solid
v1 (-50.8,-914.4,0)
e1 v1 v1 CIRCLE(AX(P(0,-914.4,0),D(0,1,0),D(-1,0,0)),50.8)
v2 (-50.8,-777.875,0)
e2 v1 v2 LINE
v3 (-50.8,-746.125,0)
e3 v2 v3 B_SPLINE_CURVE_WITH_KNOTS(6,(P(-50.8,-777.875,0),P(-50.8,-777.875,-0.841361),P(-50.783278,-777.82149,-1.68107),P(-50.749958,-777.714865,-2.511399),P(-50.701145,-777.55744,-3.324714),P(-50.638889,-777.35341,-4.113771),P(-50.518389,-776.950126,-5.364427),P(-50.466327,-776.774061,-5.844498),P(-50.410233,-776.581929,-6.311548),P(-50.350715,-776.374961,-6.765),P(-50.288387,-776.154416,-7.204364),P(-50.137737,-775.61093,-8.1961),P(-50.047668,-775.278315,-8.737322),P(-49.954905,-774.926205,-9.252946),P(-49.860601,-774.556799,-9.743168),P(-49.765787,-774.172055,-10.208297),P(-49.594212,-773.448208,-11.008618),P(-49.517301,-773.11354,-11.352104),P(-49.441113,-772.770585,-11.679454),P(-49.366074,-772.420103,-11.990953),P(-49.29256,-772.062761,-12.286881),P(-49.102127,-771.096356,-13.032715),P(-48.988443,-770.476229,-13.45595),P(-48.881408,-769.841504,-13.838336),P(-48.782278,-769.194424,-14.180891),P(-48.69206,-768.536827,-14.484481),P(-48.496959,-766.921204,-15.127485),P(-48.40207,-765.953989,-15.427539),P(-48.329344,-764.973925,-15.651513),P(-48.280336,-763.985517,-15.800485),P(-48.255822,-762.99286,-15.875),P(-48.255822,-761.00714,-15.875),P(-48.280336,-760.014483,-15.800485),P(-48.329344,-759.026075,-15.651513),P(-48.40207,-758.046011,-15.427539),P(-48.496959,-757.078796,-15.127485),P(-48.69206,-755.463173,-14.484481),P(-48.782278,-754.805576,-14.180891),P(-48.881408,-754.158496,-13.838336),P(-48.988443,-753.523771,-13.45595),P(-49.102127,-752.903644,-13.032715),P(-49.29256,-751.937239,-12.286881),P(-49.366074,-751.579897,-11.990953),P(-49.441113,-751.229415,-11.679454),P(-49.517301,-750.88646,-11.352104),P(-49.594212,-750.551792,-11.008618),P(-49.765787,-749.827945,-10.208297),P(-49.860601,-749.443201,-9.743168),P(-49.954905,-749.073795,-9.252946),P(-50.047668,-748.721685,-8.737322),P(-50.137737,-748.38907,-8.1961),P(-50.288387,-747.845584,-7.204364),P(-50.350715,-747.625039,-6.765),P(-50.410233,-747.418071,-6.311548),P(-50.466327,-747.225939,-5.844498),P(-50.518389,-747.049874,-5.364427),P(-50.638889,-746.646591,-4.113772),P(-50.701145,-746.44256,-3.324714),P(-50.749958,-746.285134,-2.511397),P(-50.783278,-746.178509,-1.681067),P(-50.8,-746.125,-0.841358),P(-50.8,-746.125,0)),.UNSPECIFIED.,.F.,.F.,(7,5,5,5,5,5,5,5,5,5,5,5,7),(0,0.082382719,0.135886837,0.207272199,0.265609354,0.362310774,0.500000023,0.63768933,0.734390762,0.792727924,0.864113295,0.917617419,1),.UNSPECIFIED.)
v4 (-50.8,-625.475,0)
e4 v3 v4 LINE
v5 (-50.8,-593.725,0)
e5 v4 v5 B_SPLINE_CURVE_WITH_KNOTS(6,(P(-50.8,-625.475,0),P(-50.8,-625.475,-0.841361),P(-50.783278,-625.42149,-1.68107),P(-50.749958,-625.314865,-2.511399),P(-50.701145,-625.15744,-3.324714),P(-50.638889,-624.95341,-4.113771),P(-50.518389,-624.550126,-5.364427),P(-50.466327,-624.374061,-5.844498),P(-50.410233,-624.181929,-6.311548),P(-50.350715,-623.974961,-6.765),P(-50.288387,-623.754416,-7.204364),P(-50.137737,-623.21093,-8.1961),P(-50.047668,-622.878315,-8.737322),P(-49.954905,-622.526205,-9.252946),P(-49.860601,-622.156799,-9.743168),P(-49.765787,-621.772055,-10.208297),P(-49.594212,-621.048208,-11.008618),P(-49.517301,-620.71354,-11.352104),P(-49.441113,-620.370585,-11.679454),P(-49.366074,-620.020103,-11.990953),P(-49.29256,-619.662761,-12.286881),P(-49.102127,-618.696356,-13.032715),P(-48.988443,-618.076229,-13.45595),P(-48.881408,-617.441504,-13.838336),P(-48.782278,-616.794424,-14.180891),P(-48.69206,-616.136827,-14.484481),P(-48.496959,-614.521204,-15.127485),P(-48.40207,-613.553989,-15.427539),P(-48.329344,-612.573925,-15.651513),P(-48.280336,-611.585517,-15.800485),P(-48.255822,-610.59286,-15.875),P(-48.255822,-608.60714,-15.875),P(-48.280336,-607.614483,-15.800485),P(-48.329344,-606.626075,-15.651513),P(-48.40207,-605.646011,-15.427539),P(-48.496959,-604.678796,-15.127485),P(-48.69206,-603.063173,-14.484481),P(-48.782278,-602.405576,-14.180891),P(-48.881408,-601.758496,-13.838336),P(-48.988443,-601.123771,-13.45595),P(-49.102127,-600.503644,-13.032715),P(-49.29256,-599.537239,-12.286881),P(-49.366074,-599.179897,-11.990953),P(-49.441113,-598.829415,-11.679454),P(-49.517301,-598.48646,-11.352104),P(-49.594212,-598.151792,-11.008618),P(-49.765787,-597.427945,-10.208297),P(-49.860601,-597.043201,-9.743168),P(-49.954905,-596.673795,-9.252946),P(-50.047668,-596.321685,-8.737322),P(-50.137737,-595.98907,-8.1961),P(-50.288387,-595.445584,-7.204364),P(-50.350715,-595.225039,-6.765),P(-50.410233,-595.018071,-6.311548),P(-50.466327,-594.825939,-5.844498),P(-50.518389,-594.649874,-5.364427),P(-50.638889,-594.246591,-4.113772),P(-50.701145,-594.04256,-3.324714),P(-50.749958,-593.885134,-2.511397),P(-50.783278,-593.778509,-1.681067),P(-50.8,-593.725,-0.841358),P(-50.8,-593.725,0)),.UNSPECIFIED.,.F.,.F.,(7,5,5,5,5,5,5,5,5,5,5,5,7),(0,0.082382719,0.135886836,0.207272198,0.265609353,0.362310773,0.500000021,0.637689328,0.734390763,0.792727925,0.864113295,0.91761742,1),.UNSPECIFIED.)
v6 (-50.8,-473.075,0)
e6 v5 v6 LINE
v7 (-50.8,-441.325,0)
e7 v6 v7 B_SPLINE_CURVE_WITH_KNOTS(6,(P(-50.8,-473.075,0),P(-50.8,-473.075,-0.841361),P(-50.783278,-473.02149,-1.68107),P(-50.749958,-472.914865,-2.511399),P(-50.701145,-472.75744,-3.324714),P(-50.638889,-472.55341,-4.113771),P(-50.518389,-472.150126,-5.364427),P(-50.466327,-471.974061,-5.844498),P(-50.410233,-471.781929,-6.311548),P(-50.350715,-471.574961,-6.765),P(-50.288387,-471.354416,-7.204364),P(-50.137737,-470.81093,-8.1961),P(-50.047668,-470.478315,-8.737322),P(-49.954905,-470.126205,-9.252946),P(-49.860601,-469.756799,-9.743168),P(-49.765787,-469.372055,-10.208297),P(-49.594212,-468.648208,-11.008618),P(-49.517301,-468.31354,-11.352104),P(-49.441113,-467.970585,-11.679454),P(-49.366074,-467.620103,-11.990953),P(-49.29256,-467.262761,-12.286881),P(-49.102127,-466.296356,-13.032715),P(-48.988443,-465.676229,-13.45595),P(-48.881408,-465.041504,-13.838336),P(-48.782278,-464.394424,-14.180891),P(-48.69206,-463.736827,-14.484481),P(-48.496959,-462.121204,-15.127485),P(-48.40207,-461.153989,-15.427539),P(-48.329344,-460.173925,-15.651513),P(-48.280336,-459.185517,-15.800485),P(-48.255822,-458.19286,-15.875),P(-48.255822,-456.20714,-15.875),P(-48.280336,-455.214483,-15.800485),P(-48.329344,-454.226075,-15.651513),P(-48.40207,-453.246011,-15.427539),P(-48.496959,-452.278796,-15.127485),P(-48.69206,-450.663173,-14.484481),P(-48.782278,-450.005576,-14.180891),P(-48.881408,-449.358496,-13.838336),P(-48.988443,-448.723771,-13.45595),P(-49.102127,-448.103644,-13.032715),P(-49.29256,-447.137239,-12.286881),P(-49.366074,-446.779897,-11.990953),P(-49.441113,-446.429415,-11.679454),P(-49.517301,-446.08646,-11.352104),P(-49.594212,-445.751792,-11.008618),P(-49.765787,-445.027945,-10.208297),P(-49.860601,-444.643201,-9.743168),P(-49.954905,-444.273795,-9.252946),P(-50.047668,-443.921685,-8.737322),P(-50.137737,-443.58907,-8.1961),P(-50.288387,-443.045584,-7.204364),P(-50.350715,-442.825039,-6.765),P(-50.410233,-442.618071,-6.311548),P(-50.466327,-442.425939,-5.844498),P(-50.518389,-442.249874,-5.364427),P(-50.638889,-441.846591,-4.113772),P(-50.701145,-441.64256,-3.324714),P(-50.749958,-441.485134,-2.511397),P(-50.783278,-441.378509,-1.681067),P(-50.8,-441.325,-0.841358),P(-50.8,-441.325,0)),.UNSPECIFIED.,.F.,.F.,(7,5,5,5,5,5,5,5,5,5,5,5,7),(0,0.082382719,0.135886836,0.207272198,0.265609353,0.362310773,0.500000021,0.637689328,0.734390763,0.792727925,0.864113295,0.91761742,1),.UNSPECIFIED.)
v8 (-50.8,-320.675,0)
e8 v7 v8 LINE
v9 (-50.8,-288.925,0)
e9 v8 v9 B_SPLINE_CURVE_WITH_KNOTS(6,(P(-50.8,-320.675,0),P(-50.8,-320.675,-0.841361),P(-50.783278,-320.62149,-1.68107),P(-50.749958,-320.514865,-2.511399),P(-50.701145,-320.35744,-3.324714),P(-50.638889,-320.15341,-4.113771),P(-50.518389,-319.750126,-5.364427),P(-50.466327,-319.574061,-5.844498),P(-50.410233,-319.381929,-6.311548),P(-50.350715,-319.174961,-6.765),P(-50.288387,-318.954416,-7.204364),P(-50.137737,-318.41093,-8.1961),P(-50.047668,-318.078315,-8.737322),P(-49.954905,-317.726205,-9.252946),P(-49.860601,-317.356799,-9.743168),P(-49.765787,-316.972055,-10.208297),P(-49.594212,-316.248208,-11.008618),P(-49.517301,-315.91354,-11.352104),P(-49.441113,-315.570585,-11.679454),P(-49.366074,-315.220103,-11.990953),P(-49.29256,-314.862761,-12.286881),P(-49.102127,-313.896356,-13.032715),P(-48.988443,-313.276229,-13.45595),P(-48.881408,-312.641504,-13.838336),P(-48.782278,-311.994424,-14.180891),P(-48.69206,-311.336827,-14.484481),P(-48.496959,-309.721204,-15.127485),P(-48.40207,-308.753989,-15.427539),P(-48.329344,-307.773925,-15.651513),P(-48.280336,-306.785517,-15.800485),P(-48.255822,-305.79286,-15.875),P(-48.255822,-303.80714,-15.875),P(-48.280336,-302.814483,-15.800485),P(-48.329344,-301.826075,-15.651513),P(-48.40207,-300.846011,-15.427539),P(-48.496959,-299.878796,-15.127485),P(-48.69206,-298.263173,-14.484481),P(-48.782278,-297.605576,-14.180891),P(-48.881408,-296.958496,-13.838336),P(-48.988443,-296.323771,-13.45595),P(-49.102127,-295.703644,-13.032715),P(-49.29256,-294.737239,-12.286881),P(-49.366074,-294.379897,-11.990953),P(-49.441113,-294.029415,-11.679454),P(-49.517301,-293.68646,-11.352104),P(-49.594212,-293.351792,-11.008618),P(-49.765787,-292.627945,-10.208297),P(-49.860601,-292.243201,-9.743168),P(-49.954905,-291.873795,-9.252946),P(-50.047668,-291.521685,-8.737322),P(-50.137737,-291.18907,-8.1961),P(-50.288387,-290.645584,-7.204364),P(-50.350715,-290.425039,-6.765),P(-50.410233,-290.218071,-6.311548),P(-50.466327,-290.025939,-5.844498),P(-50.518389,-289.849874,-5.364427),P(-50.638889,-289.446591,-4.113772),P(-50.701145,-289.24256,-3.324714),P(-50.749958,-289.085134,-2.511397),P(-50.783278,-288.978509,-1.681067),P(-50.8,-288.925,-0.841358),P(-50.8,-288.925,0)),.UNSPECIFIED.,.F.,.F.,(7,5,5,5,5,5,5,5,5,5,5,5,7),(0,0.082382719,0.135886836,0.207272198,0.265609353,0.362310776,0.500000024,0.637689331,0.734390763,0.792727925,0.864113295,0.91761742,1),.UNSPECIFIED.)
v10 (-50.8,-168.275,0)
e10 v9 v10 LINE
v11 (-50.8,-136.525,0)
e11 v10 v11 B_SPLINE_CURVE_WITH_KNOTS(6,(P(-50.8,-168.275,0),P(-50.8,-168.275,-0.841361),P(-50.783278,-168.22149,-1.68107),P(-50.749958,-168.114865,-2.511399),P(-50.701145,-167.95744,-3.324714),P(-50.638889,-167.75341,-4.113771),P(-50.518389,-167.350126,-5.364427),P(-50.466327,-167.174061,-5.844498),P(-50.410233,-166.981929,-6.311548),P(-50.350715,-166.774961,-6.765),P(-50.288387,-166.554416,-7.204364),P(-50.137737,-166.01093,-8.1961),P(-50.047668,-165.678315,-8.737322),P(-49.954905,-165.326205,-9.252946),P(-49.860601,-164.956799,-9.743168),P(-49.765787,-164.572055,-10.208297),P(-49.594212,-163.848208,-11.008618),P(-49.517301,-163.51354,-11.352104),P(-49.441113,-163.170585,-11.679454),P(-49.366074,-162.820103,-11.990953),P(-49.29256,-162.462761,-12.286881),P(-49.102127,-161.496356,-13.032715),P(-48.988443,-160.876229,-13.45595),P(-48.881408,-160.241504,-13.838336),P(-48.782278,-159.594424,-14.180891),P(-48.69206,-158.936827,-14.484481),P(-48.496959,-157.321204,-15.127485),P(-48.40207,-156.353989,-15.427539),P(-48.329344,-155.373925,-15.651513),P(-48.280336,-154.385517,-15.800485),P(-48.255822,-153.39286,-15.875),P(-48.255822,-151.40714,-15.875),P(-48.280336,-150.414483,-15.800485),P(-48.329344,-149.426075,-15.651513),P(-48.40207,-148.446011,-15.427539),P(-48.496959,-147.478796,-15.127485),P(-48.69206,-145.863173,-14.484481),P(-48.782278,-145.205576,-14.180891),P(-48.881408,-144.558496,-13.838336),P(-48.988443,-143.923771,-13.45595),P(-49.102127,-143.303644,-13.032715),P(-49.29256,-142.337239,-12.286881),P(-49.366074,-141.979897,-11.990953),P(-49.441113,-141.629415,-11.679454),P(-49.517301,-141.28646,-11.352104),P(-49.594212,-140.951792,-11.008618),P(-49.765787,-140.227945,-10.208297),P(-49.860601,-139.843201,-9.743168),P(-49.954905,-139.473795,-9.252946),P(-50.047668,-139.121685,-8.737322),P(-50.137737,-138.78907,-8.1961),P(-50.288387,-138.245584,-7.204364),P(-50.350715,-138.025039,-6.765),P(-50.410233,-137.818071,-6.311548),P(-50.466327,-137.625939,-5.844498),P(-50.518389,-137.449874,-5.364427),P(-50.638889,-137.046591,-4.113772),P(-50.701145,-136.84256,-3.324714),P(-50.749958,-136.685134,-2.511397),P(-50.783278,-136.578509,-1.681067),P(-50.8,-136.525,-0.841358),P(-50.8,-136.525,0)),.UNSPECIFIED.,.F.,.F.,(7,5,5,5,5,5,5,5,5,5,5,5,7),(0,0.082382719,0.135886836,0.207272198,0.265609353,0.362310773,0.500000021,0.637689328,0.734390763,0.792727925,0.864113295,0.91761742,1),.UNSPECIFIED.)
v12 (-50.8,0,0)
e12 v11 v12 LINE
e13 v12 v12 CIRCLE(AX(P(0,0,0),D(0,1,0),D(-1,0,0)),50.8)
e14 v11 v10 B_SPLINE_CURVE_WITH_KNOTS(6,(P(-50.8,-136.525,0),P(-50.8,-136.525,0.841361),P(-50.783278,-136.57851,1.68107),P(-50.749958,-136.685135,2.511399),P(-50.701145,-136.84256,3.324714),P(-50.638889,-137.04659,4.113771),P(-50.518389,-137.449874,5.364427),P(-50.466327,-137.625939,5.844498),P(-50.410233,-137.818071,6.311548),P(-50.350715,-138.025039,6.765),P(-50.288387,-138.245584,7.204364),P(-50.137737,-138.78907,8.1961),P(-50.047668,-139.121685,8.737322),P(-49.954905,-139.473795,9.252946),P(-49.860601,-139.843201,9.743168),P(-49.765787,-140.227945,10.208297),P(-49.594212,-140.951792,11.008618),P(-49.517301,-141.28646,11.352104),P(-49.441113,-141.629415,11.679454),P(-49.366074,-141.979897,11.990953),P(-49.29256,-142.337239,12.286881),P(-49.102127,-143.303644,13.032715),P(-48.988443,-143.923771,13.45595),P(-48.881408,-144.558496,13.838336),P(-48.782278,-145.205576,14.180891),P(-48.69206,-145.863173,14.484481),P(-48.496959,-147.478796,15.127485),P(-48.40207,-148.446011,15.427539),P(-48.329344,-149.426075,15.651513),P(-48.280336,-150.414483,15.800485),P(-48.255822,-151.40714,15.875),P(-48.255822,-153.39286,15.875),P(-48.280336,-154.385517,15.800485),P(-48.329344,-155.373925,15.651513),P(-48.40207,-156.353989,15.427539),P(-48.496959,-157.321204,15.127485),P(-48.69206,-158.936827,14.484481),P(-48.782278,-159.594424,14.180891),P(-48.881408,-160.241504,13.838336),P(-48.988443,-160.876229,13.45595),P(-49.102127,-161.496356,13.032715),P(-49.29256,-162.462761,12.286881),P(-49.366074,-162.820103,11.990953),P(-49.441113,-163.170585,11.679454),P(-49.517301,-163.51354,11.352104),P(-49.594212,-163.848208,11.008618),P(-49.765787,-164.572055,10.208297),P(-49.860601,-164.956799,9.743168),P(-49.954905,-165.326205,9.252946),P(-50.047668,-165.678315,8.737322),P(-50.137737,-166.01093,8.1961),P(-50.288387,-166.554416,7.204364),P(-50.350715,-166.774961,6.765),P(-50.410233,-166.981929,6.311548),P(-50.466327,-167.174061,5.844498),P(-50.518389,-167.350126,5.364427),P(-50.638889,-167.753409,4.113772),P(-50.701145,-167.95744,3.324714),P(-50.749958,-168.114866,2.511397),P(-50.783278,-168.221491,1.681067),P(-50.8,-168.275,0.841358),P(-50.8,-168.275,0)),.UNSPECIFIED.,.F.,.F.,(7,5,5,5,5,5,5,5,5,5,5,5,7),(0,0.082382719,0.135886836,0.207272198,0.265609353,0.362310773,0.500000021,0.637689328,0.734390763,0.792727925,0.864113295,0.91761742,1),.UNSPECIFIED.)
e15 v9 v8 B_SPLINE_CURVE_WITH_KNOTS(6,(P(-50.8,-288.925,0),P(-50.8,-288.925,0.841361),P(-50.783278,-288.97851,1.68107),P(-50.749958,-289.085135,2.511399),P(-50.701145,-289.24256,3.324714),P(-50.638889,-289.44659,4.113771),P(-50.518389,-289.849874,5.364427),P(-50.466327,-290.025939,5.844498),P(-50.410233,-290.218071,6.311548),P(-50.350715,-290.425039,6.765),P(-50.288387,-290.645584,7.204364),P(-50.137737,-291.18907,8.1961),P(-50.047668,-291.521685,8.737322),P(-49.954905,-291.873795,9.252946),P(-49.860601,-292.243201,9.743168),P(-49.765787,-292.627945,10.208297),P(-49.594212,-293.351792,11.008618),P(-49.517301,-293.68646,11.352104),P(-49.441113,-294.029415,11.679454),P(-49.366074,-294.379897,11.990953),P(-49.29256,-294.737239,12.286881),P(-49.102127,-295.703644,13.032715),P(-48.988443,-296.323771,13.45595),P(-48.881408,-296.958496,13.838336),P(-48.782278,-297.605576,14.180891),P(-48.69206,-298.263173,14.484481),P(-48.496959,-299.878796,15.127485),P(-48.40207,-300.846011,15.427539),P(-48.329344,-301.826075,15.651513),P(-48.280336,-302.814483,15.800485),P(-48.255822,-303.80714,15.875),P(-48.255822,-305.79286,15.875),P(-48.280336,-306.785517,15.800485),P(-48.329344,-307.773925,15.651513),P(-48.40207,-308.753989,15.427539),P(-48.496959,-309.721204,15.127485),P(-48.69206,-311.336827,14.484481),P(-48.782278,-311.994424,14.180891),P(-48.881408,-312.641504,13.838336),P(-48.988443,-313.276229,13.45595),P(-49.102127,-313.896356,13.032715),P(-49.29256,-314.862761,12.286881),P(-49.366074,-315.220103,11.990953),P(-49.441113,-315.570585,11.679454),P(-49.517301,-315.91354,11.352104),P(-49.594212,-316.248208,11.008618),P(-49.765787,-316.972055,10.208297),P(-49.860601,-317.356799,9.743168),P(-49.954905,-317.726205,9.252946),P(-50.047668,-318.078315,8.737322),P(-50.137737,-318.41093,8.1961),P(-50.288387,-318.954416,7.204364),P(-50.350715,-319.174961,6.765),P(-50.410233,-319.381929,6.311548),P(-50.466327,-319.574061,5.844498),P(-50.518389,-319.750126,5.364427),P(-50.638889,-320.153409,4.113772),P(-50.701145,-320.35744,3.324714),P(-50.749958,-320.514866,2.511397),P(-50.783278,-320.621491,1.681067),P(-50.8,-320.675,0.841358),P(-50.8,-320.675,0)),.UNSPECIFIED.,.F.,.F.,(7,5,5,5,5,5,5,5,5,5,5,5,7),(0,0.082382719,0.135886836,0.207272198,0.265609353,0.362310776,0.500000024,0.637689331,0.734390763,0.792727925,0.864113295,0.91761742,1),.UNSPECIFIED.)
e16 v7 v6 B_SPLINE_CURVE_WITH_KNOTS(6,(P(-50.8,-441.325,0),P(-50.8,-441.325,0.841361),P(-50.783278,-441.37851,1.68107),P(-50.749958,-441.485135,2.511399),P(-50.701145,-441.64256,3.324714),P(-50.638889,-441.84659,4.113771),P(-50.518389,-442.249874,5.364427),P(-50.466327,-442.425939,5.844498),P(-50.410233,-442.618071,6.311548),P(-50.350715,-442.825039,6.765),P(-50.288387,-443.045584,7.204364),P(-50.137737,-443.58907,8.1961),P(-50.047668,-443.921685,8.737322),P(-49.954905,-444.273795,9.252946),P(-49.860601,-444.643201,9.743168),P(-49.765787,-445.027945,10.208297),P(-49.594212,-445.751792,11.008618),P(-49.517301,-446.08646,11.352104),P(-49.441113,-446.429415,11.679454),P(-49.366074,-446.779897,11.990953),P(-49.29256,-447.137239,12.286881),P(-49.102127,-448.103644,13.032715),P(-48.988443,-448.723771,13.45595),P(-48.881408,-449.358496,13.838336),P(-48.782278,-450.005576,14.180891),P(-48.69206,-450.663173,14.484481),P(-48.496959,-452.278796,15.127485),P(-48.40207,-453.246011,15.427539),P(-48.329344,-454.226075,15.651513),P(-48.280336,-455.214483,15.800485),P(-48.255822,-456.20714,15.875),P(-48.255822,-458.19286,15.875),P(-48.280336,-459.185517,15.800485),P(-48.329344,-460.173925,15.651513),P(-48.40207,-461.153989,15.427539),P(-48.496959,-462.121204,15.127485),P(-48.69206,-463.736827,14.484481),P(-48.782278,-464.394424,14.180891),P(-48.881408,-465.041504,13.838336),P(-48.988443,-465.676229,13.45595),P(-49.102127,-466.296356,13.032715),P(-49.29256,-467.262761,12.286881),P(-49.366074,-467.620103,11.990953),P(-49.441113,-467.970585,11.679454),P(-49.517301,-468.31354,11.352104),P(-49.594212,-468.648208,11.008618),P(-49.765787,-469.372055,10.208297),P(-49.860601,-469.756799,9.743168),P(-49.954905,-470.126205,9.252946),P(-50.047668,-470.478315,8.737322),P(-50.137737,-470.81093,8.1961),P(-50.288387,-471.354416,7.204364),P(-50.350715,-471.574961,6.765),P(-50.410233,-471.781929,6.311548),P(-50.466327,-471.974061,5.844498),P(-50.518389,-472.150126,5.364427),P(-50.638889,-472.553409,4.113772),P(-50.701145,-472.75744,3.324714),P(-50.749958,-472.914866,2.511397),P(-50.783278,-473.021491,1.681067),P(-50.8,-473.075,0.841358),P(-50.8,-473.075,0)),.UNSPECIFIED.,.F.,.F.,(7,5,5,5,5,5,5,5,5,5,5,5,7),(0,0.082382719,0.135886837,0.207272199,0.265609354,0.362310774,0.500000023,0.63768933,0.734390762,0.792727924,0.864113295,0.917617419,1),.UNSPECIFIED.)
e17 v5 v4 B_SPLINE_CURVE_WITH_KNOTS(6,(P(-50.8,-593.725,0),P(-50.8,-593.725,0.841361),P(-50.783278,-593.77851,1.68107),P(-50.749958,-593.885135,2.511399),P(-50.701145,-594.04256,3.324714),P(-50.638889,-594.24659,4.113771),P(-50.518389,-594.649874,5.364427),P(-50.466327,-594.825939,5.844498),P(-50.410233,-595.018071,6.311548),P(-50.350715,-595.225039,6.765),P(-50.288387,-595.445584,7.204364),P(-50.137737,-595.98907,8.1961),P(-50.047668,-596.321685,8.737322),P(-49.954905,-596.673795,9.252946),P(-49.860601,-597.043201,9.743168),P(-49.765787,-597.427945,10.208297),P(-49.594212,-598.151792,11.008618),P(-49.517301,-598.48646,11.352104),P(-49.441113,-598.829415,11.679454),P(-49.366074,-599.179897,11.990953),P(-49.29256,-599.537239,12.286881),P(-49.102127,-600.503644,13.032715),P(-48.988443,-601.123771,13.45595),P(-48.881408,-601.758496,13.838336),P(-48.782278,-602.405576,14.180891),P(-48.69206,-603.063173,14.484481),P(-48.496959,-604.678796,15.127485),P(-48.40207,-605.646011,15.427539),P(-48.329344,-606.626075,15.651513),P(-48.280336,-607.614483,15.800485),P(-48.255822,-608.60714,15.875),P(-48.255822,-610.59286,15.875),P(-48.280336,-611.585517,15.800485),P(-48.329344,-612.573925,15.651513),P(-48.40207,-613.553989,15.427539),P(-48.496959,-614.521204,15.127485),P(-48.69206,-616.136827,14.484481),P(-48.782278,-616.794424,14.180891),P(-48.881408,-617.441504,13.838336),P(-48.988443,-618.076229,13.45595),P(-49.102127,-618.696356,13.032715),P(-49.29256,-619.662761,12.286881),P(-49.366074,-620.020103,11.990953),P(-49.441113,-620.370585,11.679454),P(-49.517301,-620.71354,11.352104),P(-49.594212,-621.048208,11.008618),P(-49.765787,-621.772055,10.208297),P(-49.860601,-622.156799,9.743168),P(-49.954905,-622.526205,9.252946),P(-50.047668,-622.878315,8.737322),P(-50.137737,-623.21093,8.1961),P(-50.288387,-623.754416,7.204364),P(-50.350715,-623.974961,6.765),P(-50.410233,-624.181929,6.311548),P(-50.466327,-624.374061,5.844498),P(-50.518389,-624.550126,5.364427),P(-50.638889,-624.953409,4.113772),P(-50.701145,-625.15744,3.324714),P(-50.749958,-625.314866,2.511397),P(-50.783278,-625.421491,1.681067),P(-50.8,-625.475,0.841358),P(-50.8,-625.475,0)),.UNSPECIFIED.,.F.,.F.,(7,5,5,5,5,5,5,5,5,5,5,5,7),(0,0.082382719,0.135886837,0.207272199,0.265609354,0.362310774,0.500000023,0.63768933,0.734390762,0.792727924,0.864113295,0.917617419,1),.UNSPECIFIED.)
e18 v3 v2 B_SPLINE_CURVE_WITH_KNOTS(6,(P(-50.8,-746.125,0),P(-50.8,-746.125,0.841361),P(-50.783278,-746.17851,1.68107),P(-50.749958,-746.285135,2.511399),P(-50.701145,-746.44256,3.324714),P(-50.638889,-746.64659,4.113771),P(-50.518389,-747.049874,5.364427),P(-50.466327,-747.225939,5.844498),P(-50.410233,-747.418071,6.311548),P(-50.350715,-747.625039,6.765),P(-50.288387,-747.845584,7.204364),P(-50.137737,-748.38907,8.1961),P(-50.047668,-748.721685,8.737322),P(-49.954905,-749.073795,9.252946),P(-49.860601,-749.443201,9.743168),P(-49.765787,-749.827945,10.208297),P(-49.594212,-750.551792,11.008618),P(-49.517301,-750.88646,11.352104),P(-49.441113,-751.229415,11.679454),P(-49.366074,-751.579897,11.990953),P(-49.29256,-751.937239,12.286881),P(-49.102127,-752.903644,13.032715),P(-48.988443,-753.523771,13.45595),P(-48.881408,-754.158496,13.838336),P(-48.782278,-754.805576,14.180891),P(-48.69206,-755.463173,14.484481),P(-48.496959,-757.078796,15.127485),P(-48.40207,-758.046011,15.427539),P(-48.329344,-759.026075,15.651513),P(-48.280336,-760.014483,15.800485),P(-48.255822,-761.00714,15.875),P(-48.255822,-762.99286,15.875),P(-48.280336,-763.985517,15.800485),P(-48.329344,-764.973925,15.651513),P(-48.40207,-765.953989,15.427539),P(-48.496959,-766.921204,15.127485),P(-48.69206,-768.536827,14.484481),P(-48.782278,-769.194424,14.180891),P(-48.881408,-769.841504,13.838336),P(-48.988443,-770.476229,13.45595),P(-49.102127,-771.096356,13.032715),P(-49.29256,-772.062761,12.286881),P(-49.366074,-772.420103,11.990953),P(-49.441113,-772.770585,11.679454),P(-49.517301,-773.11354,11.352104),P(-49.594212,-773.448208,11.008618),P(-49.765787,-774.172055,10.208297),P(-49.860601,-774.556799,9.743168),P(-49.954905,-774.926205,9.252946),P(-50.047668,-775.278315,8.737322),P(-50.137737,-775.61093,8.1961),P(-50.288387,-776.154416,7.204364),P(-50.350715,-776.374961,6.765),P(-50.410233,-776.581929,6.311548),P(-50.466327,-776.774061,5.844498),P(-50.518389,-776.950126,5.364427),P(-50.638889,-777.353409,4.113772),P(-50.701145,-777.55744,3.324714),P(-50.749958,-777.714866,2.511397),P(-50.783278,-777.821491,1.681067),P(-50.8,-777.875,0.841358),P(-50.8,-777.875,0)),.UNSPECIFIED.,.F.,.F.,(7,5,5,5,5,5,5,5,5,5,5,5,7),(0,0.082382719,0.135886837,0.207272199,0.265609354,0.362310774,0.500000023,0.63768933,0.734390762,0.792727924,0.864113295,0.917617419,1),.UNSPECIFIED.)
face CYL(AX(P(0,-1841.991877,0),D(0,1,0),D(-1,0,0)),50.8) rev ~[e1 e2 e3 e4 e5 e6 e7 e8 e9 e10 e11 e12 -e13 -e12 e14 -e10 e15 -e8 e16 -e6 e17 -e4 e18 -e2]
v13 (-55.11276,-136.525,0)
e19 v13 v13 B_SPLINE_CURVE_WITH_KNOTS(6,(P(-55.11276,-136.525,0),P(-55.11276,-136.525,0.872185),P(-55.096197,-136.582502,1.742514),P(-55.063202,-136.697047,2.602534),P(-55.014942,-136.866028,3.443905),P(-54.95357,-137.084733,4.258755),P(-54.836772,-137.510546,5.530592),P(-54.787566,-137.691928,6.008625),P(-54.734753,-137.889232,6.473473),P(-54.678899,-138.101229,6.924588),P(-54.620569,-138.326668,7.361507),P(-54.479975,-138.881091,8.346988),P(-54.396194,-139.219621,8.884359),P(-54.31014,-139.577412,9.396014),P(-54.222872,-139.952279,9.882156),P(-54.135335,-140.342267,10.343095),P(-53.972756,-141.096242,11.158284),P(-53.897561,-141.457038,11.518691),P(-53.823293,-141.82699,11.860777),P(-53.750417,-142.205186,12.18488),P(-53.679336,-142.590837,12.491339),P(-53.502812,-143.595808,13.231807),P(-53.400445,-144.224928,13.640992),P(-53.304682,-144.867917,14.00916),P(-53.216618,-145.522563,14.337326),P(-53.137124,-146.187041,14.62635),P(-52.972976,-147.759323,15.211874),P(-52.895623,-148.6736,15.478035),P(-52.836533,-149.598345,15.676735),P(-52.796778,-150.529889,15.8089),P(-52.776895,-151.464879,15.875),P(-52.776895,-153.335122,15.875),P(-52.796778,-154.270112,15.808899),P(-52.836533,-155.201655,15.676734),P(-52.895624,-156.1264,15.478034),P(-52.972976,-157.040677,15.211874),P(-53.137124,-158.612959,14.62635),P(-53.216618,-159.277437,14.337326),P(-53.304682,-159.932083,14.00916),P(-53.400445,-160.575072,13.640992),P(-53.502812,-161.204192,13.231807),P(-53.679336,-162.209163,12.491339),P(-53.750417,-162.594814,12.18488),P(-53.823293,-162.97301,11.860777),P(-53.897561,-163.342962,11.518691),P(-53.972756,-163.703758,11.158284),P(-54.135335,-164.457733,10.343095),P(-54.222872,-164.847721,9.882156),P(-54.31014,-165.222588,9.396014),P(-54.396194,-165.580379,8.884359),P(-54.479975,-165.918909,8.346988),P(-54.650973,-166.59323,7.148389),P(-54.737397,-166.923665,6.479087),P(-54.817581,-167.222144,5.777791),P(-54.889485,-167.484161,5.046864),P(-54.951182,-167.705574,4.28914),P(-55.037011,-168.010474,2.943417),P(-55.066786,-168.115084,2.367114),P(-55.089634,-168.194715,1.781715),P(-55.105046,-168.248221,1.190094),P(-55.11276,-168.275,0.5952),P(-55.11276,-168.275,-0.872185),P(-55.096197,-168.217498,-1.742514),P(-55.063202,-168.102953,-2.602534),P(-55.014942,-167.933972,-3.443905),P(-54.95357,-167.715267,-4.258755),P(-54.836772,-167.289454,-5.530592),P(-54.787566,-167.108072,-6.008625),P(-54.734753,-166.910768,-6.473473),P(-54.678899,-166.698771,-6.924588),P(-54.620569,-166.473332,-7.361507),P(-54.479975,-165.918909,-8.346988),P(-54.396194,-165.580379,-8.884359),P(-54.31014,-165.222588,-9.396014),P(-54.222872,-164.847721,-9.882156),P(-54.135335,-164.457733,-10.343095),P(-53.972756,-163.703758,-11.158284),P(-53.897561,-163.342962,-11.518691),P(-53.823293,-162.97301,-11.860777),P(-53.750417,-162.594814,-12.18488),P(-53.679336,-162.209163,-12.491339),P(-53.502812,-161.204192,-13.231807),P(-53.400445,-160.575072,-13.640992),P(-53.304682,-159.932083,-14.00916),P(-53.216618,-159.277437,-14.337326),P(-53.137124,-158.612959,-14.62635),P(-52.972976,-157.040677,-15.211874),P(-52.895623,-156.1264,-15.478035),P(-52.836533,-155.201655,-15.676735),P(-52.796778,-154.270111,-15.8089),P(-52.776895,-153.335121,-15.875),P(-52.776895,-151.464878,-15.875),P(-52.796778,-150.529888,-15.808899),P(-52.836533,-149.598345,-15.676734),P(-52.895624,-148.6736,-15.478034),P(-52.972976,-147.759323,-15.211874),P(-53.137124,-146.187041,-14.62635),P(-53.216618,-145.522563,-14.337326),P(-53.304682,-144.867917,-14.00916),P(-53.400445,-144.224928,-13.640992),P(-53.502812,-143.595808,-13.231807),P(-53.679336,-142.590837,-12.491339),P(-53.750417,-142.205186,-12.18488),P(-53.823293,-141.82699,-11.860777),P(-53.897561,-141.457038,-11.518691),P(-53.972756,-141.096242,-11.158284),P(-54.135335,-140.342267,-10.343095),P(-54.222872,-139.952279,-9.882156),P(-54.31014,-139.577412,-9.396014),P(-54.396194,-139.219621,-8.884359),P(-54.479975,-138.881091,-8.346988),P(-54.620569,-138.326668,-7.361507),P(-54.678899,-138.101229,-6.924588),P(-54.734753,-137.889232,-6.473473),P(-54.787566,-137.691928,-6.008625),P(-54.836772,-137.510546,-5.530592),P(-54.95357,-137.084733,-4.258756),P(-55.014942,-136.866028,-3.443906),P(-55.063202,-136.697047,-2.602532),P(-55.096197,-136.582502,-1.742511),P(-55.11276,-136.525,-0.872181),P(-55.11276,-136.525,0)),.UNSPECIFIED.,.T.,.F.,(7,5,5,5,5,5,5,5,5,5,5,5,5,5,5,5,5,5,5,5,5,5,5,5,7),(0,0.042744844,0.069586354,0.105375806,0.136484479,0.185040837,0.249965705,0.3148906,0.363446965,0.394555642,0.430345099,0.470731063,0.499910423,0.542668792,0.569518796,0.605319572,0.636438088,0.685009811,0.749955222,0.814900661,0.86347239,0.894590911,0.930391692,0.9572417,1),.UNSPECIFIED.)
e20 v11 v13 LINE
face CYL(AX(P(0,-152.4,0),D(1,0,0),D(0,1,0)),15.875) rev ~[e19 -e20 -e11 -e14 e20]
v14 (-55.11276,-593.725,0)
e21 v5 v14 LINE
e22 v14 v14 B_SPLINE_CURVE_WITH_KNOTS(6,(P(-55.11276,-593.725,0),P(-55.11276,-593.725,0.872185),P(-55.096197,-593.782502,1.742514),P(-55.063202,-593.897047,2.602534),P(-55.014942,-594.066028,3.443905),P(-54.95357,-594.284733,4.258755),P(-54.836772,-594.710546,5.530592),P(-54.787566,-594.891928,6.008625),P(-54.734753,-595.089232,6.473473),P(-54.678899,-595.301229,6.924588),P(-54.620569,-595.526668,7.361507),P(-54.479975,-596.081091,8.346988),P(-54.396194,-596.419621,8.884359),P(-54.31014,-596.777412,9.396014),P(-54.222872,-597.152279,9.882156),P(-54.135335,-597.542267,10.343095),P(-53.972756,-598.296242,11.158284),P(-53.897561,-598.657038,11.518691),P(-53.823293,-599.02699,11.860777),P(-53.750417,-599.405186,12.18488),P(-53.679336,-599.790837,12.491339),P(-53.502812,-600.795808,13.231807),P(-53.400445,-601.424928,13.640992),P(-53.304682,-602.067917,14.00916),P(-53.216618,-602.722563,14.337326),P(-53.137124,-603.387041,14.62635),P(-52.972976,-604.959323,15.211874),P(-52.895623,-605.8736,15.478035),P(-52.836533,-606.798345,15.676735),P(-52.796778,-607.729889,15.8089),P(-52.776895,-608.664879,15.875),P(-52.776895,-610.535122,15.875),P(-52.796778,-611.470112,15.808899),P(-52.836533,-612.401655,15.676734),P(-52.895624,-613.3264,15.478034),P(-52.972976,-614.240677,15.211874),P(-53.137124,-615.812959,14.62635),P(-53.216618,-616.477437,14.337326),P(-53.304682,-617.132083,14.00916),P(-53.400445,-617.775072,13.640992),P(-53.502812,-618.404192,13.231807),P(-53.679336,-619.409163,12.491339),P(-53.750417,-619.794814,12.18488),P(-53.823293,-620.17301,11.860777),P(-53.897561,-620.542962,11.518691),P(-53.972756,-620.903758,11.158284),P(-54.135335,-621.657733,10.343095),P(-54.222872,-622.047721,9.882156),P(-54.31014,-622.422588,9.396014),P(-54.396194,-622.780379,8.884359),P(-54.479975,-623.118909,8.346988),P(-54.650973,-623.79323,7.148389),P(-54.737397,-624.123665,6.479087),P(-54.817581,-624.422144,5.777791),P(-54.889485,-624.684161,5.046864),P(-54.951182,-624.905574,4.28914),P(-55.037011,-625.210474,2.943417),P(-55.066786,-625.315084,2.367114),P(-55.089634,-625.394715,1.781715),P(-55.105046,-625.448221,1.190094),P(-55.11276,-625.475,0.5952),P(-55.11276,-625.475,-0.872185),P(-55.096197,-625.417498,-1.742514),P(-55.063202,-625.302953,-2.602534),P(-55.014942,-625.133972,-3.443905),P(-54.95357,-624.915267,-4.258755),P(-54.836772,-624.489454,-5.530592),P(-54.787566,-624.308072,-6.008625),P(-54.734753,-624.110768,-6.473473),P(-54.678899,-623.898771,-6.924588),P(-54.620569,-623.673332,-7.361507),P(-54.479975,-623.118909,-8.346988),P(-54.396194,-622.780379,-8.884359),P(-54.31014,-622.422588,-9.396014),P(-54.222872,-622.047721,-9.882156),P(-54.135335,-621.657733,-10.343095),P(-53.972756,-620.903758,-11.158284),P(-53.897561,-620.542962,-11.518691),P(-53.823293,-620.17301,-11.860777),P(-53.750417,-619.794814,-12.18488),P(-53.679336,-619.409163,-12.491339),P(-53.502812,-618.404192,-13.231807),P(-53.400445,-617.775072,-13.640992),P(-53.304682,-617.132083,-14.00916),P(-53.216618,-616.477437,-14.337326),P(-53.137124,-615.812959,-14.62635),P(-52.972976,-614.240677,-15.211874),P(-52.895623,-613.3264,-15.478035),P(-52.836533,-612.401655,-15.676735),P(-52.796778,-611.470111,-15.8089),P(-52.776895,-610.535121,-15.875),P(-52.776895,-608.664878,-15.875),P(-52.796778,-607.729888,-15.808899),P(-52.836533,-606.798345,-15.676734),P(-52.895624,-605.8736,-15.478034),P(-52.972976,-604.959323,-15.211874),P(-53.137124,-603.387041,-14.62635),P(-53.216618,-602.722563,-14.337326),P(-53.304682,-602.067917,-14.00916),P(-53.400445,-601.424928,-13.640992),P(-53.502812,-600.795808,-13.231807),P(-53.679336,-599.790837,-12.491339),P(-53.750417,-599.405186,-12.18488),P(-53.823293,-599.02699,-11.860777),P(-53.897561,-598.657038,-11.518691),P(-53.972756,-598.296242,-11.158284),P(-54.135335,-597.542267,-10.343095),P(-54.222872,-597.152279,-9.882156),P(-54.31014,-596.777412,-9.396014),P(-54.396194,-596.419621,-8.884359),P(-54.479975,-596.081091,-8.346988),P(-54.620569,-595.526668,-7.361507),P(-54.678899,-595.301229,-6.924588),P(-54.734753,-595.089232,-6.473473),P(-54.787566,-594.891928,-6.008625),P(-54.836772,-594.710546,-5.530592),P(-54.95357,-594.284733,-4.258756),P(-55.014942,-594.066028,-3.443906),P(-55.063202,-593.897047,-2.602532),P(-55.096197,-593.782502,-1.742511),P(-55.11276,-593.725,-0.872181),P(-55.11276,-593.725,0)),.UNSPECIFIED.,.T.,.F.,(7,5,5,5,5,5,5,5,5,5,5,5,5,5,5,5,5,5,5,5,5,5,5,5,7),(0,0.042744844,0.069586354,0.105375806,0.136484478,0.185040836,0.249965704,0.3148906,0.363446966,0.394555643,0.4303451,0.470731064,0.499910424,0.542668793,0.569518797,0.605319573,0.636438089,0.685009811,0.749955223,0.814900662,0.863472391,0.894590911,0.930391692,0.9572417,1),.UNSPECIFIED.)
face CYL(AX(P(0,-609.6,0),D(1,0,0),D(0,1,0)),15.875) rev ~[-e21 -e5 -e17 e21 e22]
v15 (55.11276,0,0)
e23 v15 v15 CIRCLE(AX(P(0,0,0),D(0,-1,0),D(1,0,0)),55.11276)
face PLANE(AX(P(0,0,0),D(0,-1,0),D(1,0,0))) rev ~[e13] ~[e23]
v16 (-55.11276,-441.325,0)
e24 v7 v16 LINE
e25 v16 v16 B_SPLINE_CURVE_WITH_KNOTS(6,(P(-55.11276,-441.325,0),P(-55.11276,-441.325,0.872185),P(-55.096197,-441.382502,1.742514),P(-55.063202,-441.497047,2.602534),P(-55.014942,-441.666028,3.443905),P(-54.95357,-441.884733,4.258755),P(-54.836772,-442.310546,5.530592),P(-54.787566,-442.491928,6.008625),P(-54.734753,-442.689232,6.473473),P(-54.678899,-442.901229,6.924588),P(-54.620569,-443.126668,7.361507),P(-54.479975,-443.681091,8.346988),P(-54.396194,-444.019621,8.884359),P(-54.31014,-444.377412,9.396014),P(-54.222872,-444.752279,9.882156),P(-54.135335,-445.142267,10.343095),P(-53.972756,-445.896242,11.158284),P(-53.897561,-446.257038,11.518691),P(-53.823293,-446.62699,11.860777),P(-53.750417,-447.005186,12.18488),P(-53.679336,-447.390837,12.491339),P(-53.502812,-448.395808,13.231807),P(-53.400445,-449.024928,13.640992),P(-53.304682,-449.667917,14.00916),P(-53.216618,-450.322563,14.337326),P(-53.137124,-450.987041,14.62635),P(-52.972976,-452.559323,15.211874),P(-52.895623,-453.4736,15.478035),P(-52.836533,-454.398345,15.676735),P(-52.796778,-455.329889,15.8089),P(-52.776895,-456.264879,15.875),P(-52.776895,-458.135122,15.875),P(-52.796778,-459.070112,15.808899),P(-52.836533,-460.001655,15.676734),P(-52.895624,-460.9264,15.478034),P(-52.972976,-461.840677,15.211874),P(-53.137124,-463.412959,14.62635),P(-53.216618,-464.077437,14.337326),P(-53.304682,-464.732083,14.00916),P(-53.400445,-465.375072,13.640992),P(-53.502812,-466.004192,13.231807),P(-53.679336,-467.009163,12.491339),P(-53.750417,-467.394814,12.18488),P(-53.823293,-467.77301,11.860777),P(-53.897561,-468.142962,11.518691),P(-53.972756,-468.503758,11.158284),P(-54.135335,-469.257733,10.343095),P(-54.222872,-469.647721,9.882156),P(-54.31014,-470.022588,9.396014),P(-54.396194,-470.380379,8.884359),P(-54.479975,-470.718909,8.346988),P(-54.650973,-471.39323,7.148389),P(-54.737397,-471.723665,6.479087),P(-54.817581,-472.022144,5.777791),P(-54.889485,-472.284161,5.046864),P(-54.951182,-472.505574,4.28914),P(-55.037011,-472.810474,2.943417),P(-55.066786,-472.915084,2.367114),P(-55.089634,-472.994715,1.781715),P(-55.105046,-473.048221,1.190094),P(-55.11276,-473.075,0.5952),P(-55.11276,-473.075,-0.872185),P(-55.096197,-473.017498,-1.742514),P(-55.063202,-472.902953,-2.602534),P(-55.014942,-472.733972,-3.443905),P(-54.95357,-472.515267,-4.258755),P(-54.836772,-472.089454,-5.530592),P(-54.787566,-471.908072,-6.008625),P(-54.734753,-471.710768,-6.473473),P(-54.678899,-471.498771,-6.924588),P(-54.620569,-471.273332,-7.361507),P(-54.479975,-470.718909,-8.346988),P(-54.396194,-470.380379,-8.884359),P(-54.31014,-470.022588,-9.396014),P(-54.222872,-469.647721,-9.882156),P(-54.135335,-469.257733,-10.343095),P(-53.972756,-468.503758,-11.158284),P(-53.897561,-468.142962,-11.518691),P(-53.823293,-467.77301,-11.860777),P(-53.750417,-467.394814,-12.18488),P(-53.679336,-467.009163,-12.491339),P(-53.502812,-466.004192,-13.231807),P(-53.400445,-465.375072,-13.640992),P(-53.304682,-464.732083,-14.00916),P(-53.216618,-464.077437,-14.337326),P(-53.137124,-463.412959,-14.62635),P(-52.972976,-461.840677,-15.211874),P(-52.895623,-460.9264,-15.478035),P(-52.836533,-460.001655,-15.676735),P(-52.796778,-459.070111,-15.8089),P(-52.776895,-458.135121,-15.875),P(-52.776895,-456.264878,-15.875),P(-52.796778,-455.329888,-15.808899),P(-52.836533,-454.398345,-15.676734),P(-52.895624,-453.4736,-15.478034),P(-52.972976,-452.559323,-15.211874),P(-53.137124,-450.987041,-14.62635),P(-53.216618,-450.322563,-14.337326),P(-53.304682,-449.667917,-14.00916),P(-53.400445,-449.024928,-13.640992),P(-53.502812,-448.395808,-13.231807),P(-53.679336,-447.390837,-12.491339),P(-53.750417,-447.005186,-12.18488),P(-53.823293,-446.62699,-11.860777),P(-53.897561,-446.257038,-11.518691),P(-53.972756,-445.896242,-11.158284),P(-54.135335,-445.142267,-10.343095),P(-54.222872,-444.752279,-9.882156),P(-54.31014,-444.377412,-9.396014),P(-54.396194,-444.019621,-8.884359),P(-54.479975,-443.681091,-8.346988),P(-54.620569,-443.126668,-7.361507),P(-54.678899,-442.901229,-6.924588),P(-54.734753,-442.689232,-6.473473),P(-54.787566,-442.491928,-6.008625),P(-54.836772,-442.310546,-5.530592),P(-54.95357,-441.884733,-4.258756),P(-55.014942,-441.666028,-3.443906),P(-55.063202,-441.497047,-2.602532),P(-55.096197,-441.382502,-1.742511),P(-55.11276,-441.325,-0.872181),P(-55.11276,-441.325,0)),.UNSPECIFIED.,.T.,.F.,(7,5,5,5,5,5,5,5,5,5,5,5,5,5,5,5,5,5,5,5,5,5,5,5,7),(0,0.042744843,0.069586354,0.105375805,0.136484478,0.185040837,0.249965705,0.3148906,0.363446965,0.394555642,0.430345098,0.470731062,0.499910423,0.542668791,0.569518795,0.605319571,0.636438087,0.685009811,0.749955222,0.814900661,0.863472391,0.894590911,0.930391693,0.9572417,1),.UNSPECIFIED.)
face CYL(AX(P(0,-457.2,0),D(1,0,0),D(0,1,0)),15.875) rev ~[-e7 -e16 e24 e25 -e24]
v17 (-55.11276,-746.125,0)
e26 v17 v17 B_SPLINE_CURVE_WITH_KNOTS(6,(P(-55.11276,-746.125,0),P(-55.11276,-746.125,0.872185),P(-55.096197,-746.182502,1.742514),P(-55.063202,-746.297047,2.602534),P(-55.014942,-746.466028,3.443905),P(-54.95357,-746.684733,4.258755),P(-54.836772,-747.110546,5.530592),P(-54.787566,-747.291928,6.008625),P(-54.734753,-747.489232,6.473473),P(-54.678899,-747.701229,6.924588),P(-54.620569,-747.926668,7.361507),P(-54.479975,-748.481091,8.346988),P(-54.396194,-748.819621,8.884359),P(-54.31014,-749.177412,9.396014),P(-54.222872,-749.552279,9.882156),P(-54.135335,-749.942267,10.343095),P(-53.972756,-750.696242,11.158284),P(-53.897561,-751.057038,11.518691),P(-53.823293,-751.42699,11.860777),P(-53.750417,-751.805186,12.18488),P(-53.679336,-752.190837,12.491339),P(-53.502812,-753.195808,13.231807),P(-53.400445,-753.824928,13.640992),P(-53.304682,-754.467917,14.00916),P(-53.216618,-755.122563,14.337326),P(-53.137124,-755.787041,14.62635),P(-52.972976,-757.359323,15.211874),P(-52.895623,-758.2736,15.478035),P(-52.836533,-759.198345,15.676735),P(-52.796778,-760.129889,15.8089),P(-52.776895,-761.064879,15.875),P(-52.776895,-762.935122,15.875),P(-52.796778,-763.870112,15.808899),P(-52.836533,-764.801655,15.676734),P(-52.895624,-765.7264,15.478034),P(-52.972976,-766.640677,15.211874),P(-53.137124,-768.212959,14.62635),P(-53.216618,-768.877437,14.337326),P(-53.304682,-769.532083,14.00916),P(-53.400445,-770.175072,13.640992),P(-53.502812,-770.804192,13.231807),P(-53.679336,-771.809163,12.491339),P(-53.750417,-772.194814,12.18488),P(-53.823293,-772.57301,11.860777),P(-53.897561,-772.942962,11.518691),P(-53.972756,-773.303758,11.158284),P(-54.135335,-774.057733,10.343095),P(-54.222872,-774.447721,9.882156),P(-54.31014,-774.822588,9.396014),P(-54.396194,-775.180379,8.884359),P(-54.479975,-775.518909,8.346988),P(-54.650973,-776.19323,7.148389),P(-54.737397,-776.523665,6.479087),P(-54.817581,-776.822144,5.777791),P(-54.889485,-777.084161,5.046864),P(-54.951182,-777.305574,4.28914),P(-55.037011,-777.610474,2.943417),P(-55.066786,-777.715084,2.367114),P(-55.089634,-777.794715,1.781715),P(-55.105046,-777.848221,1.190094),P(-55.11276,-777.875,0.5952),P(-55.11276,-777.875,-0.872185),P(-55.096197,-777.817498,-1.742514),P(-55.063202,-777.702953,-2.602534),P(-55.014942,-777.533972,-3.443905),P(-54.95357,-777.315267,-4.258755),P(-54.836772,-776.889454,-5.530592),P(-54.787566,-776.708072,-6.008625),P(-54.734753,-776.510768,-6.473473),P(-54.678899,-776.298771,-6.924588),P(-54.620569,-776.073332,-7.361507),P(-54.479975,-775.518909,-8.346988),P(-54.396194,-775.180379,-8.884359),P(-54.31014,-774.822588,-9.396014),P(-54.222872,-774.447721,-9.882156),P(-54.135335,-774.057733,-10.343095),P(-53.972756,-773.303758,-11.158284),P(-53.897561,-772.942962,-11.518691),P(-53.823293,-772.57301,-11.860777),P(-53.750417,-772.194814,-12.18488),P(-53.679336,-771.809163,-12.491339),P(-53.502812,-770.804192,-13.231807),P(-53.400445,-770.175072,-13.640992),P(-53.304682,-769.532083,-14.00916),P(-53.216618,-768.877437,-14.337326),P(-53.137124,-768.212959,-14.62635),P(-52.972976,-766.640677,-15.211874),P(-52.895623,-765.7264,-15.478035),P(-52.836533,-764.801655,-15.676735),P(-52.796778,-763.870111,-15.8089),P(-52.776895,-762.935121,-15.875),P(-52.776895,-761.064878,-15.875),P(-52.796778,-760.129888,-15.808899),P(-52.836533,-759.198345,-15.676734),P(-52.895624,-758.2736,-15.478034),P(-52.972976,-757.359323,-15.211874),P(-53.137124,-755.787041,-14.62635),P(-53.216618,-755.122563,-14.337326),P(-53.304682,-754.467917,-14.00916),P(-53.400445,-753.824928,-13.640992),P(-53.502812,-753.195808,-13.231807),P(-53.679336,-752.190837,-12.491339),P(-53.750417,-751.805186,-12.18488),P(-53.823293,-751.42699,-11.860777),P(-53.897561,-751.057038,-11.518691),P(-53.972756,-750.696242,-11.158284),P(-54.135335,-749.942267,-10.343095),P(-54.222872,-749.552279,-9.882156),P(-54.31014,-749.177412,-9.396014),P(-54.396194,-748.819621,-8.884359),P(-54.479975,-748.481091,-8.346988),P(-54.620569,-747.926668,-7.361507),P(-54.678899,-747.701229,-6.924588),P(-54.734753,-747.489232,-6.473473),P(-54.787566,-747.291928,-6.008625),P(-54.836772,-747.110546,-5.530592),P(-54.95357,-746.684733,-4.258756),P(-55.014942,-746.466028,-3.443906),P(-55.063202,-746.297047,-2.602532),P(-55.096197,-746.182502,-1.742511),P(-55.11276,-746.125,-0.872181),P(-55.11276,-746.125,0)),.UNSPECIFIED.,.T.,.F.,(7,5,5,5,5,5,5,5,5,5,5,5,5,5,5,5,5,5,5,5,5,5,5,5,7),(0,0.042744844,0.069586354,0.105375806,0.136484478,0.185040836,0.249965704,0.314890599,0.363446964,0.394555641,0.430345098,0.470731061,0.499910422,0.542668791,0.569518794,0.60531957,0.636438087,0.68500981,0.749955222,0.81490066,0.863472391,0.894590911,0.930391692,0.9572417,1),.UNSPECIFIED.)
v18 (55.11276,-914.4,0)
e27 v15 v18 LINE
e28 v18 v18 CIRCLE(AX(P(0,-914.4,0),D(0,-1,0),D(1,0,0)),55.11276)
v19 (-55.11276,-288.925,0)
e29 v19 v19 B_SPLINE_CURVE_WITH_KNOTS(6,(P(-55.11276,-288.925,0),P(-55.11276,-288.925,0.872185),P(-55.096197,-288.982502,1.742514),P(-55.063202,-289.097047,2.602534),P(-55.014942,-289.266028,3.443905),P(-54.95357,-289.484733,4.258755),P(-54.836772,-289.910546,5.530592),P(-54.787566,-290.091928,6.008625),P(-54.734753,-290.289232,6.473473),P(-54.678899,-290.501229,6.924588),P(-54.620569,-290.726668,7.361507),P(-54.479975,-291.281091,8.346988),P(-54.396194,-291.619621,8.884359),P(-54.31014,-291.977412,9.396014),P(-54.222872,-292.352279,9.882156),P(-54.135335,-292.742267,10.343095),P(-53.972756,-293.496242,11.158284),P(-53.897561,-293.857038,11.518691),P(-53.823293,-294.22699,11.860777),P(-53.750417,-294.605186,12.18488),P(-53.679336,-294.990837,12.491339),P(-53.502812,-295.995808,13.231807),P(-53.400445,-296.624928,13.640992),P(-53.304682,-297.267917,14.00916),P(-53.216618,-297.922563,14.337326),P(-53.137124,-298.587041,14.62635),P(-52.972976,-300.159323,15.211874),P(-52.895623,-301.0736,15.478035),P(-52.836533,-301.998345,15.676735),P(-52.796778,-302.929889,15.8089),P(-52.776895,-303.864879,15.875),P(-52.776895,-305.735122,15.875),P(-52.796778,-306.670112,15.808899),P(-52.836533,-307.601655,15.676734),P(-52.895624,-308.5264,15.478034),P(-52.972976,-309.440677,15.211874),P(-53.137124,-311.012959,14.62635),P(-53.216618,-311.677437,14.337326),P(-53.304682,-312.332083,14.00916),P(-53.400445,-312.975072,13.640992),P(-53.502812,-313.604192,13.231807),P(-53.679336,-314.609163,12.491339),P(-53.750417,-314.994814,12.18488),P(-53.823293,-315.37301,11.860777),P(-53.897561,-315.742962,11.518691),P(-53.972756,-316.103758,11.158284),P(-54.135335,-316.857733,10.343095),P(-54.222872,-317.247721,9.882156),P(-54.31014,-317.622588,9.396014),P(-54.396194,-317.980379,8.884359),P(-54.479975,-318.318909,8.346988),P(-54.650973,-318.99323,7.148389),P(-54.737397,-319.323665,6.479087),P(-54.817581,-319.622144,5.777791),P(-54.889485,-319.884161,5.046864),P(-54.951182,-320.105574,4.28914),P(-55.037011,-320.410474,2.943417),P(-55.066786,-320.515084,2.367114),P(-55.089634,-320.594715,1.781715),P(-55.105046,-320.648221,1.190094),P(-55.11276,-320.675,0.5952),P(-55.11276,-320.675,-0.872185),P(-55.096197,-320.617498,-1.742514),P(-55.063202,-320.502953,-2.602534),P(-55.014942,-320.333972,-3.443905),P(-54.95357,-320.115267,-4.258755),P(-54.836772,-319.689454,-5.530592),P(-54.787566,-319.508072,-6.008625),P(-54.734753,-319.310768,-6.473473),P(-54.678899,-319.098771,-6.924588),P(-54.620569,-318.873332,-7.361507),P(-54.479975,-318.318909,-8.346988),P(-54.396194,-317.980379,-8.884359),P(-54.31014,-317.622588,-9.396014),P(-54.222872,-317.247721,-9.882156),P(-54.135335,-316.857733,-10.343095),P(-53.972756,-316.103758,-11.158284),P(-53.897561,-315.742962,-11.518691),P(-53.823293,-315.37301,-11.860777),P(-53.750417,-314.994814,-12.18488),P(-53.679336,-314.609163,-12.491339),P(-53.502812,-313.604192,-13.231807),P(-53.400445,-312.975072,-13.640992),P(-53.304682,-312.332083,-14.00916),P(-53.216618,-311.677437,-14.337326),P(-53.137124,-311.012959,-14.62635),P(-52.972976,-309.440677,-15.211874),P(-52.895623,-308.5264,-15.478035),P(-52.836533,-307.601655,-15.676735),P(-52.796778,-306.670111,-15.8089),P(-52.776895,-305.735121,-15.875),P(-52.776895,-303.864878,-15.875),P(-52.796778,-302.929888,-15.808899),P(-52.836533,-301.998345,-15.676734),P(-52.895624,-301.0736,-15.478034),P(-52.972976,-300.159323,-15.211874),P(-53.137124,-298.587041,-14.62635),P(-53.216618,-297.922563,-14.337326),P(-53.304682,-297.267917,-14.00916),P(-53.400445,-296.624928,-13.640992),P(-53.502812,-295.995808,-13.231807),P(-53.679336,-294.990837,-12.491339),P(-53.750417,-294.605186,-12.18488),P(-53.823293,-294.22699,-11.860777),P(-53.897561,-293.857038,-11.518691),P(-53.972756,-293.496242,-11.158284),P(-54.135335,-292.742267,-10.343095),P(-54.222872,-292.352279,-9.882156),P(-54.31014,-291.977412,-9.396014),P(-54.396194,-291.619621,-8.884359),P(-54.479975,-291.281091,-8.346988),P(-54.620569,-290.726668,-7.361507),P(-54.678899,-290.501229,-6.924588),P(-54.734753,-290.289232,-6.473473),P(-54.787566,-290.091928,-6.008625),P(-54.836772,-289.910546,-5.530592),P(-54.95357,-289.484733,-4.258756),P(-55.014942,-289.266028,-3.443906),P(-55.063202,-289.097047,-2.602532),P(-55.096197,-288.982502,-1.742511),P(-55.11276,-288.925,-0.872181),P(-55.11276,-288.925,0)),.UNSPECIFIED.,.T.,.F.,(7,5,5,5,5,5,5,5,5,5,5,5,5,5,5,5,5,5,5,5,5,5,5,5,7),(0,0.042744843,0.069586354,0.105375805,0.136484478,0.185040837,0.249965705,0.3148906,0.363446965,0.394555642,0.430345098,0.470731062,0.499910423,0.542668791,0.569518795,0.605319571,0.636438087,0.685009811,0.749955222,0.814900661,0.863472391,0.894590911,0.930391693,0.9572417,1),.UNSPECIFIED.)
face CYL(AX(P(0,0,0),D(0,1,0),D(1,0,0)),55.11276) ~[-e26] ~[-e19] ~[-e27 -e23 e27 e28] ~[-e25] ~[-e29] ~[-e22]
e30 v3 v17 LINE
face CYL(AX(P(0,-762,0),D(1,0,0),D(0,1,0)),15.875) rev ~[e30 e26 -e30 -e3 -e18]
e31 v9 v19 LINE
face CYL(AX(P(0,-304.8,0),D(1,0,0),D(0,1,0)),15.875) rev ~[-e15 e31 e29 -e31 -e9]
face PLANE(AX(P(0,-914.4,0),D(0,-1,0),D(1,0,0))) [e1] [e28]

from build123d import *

# Parameters (mm, degrees)
F0_R     = 55.11276
F1_DEPTH = 914.4
F3_D     = 101.6
F5_R     = 15.875
F6_DEPTH = 88.9


with BuildPart() as f1:
    # F0 (on Front) → F1 (new body)
    with BuildSketch(Plane.XZ):
        Circle(F0_R)
    extrude(amount=F1_DEPTH)

    # F3 (through all)
    with Locations(Plane.XZ.offset(914.4)):
        with Locations((0, 0)):
            Hole(F3_D / 2)

    # F5 (on Right) → F6 (cut)
    with BuildSketch(Plane.YZ):
        with Locations((-762, 0)):
            Circle(F5_R)
        with Locations((-609.6, 0)):
            Circle(F5_R)
        with Locations((-457.2, 0)):
            Circle(F5_R)
        with Locations((-304.8, 0)):
            Circle(F5_R)
        with Locations((-152.4, 0)):
            Circle(F5_R)
    extrude(amount=-F6_DEPTH, mode=Mode.SUBTRACT)


solid = f1.part
